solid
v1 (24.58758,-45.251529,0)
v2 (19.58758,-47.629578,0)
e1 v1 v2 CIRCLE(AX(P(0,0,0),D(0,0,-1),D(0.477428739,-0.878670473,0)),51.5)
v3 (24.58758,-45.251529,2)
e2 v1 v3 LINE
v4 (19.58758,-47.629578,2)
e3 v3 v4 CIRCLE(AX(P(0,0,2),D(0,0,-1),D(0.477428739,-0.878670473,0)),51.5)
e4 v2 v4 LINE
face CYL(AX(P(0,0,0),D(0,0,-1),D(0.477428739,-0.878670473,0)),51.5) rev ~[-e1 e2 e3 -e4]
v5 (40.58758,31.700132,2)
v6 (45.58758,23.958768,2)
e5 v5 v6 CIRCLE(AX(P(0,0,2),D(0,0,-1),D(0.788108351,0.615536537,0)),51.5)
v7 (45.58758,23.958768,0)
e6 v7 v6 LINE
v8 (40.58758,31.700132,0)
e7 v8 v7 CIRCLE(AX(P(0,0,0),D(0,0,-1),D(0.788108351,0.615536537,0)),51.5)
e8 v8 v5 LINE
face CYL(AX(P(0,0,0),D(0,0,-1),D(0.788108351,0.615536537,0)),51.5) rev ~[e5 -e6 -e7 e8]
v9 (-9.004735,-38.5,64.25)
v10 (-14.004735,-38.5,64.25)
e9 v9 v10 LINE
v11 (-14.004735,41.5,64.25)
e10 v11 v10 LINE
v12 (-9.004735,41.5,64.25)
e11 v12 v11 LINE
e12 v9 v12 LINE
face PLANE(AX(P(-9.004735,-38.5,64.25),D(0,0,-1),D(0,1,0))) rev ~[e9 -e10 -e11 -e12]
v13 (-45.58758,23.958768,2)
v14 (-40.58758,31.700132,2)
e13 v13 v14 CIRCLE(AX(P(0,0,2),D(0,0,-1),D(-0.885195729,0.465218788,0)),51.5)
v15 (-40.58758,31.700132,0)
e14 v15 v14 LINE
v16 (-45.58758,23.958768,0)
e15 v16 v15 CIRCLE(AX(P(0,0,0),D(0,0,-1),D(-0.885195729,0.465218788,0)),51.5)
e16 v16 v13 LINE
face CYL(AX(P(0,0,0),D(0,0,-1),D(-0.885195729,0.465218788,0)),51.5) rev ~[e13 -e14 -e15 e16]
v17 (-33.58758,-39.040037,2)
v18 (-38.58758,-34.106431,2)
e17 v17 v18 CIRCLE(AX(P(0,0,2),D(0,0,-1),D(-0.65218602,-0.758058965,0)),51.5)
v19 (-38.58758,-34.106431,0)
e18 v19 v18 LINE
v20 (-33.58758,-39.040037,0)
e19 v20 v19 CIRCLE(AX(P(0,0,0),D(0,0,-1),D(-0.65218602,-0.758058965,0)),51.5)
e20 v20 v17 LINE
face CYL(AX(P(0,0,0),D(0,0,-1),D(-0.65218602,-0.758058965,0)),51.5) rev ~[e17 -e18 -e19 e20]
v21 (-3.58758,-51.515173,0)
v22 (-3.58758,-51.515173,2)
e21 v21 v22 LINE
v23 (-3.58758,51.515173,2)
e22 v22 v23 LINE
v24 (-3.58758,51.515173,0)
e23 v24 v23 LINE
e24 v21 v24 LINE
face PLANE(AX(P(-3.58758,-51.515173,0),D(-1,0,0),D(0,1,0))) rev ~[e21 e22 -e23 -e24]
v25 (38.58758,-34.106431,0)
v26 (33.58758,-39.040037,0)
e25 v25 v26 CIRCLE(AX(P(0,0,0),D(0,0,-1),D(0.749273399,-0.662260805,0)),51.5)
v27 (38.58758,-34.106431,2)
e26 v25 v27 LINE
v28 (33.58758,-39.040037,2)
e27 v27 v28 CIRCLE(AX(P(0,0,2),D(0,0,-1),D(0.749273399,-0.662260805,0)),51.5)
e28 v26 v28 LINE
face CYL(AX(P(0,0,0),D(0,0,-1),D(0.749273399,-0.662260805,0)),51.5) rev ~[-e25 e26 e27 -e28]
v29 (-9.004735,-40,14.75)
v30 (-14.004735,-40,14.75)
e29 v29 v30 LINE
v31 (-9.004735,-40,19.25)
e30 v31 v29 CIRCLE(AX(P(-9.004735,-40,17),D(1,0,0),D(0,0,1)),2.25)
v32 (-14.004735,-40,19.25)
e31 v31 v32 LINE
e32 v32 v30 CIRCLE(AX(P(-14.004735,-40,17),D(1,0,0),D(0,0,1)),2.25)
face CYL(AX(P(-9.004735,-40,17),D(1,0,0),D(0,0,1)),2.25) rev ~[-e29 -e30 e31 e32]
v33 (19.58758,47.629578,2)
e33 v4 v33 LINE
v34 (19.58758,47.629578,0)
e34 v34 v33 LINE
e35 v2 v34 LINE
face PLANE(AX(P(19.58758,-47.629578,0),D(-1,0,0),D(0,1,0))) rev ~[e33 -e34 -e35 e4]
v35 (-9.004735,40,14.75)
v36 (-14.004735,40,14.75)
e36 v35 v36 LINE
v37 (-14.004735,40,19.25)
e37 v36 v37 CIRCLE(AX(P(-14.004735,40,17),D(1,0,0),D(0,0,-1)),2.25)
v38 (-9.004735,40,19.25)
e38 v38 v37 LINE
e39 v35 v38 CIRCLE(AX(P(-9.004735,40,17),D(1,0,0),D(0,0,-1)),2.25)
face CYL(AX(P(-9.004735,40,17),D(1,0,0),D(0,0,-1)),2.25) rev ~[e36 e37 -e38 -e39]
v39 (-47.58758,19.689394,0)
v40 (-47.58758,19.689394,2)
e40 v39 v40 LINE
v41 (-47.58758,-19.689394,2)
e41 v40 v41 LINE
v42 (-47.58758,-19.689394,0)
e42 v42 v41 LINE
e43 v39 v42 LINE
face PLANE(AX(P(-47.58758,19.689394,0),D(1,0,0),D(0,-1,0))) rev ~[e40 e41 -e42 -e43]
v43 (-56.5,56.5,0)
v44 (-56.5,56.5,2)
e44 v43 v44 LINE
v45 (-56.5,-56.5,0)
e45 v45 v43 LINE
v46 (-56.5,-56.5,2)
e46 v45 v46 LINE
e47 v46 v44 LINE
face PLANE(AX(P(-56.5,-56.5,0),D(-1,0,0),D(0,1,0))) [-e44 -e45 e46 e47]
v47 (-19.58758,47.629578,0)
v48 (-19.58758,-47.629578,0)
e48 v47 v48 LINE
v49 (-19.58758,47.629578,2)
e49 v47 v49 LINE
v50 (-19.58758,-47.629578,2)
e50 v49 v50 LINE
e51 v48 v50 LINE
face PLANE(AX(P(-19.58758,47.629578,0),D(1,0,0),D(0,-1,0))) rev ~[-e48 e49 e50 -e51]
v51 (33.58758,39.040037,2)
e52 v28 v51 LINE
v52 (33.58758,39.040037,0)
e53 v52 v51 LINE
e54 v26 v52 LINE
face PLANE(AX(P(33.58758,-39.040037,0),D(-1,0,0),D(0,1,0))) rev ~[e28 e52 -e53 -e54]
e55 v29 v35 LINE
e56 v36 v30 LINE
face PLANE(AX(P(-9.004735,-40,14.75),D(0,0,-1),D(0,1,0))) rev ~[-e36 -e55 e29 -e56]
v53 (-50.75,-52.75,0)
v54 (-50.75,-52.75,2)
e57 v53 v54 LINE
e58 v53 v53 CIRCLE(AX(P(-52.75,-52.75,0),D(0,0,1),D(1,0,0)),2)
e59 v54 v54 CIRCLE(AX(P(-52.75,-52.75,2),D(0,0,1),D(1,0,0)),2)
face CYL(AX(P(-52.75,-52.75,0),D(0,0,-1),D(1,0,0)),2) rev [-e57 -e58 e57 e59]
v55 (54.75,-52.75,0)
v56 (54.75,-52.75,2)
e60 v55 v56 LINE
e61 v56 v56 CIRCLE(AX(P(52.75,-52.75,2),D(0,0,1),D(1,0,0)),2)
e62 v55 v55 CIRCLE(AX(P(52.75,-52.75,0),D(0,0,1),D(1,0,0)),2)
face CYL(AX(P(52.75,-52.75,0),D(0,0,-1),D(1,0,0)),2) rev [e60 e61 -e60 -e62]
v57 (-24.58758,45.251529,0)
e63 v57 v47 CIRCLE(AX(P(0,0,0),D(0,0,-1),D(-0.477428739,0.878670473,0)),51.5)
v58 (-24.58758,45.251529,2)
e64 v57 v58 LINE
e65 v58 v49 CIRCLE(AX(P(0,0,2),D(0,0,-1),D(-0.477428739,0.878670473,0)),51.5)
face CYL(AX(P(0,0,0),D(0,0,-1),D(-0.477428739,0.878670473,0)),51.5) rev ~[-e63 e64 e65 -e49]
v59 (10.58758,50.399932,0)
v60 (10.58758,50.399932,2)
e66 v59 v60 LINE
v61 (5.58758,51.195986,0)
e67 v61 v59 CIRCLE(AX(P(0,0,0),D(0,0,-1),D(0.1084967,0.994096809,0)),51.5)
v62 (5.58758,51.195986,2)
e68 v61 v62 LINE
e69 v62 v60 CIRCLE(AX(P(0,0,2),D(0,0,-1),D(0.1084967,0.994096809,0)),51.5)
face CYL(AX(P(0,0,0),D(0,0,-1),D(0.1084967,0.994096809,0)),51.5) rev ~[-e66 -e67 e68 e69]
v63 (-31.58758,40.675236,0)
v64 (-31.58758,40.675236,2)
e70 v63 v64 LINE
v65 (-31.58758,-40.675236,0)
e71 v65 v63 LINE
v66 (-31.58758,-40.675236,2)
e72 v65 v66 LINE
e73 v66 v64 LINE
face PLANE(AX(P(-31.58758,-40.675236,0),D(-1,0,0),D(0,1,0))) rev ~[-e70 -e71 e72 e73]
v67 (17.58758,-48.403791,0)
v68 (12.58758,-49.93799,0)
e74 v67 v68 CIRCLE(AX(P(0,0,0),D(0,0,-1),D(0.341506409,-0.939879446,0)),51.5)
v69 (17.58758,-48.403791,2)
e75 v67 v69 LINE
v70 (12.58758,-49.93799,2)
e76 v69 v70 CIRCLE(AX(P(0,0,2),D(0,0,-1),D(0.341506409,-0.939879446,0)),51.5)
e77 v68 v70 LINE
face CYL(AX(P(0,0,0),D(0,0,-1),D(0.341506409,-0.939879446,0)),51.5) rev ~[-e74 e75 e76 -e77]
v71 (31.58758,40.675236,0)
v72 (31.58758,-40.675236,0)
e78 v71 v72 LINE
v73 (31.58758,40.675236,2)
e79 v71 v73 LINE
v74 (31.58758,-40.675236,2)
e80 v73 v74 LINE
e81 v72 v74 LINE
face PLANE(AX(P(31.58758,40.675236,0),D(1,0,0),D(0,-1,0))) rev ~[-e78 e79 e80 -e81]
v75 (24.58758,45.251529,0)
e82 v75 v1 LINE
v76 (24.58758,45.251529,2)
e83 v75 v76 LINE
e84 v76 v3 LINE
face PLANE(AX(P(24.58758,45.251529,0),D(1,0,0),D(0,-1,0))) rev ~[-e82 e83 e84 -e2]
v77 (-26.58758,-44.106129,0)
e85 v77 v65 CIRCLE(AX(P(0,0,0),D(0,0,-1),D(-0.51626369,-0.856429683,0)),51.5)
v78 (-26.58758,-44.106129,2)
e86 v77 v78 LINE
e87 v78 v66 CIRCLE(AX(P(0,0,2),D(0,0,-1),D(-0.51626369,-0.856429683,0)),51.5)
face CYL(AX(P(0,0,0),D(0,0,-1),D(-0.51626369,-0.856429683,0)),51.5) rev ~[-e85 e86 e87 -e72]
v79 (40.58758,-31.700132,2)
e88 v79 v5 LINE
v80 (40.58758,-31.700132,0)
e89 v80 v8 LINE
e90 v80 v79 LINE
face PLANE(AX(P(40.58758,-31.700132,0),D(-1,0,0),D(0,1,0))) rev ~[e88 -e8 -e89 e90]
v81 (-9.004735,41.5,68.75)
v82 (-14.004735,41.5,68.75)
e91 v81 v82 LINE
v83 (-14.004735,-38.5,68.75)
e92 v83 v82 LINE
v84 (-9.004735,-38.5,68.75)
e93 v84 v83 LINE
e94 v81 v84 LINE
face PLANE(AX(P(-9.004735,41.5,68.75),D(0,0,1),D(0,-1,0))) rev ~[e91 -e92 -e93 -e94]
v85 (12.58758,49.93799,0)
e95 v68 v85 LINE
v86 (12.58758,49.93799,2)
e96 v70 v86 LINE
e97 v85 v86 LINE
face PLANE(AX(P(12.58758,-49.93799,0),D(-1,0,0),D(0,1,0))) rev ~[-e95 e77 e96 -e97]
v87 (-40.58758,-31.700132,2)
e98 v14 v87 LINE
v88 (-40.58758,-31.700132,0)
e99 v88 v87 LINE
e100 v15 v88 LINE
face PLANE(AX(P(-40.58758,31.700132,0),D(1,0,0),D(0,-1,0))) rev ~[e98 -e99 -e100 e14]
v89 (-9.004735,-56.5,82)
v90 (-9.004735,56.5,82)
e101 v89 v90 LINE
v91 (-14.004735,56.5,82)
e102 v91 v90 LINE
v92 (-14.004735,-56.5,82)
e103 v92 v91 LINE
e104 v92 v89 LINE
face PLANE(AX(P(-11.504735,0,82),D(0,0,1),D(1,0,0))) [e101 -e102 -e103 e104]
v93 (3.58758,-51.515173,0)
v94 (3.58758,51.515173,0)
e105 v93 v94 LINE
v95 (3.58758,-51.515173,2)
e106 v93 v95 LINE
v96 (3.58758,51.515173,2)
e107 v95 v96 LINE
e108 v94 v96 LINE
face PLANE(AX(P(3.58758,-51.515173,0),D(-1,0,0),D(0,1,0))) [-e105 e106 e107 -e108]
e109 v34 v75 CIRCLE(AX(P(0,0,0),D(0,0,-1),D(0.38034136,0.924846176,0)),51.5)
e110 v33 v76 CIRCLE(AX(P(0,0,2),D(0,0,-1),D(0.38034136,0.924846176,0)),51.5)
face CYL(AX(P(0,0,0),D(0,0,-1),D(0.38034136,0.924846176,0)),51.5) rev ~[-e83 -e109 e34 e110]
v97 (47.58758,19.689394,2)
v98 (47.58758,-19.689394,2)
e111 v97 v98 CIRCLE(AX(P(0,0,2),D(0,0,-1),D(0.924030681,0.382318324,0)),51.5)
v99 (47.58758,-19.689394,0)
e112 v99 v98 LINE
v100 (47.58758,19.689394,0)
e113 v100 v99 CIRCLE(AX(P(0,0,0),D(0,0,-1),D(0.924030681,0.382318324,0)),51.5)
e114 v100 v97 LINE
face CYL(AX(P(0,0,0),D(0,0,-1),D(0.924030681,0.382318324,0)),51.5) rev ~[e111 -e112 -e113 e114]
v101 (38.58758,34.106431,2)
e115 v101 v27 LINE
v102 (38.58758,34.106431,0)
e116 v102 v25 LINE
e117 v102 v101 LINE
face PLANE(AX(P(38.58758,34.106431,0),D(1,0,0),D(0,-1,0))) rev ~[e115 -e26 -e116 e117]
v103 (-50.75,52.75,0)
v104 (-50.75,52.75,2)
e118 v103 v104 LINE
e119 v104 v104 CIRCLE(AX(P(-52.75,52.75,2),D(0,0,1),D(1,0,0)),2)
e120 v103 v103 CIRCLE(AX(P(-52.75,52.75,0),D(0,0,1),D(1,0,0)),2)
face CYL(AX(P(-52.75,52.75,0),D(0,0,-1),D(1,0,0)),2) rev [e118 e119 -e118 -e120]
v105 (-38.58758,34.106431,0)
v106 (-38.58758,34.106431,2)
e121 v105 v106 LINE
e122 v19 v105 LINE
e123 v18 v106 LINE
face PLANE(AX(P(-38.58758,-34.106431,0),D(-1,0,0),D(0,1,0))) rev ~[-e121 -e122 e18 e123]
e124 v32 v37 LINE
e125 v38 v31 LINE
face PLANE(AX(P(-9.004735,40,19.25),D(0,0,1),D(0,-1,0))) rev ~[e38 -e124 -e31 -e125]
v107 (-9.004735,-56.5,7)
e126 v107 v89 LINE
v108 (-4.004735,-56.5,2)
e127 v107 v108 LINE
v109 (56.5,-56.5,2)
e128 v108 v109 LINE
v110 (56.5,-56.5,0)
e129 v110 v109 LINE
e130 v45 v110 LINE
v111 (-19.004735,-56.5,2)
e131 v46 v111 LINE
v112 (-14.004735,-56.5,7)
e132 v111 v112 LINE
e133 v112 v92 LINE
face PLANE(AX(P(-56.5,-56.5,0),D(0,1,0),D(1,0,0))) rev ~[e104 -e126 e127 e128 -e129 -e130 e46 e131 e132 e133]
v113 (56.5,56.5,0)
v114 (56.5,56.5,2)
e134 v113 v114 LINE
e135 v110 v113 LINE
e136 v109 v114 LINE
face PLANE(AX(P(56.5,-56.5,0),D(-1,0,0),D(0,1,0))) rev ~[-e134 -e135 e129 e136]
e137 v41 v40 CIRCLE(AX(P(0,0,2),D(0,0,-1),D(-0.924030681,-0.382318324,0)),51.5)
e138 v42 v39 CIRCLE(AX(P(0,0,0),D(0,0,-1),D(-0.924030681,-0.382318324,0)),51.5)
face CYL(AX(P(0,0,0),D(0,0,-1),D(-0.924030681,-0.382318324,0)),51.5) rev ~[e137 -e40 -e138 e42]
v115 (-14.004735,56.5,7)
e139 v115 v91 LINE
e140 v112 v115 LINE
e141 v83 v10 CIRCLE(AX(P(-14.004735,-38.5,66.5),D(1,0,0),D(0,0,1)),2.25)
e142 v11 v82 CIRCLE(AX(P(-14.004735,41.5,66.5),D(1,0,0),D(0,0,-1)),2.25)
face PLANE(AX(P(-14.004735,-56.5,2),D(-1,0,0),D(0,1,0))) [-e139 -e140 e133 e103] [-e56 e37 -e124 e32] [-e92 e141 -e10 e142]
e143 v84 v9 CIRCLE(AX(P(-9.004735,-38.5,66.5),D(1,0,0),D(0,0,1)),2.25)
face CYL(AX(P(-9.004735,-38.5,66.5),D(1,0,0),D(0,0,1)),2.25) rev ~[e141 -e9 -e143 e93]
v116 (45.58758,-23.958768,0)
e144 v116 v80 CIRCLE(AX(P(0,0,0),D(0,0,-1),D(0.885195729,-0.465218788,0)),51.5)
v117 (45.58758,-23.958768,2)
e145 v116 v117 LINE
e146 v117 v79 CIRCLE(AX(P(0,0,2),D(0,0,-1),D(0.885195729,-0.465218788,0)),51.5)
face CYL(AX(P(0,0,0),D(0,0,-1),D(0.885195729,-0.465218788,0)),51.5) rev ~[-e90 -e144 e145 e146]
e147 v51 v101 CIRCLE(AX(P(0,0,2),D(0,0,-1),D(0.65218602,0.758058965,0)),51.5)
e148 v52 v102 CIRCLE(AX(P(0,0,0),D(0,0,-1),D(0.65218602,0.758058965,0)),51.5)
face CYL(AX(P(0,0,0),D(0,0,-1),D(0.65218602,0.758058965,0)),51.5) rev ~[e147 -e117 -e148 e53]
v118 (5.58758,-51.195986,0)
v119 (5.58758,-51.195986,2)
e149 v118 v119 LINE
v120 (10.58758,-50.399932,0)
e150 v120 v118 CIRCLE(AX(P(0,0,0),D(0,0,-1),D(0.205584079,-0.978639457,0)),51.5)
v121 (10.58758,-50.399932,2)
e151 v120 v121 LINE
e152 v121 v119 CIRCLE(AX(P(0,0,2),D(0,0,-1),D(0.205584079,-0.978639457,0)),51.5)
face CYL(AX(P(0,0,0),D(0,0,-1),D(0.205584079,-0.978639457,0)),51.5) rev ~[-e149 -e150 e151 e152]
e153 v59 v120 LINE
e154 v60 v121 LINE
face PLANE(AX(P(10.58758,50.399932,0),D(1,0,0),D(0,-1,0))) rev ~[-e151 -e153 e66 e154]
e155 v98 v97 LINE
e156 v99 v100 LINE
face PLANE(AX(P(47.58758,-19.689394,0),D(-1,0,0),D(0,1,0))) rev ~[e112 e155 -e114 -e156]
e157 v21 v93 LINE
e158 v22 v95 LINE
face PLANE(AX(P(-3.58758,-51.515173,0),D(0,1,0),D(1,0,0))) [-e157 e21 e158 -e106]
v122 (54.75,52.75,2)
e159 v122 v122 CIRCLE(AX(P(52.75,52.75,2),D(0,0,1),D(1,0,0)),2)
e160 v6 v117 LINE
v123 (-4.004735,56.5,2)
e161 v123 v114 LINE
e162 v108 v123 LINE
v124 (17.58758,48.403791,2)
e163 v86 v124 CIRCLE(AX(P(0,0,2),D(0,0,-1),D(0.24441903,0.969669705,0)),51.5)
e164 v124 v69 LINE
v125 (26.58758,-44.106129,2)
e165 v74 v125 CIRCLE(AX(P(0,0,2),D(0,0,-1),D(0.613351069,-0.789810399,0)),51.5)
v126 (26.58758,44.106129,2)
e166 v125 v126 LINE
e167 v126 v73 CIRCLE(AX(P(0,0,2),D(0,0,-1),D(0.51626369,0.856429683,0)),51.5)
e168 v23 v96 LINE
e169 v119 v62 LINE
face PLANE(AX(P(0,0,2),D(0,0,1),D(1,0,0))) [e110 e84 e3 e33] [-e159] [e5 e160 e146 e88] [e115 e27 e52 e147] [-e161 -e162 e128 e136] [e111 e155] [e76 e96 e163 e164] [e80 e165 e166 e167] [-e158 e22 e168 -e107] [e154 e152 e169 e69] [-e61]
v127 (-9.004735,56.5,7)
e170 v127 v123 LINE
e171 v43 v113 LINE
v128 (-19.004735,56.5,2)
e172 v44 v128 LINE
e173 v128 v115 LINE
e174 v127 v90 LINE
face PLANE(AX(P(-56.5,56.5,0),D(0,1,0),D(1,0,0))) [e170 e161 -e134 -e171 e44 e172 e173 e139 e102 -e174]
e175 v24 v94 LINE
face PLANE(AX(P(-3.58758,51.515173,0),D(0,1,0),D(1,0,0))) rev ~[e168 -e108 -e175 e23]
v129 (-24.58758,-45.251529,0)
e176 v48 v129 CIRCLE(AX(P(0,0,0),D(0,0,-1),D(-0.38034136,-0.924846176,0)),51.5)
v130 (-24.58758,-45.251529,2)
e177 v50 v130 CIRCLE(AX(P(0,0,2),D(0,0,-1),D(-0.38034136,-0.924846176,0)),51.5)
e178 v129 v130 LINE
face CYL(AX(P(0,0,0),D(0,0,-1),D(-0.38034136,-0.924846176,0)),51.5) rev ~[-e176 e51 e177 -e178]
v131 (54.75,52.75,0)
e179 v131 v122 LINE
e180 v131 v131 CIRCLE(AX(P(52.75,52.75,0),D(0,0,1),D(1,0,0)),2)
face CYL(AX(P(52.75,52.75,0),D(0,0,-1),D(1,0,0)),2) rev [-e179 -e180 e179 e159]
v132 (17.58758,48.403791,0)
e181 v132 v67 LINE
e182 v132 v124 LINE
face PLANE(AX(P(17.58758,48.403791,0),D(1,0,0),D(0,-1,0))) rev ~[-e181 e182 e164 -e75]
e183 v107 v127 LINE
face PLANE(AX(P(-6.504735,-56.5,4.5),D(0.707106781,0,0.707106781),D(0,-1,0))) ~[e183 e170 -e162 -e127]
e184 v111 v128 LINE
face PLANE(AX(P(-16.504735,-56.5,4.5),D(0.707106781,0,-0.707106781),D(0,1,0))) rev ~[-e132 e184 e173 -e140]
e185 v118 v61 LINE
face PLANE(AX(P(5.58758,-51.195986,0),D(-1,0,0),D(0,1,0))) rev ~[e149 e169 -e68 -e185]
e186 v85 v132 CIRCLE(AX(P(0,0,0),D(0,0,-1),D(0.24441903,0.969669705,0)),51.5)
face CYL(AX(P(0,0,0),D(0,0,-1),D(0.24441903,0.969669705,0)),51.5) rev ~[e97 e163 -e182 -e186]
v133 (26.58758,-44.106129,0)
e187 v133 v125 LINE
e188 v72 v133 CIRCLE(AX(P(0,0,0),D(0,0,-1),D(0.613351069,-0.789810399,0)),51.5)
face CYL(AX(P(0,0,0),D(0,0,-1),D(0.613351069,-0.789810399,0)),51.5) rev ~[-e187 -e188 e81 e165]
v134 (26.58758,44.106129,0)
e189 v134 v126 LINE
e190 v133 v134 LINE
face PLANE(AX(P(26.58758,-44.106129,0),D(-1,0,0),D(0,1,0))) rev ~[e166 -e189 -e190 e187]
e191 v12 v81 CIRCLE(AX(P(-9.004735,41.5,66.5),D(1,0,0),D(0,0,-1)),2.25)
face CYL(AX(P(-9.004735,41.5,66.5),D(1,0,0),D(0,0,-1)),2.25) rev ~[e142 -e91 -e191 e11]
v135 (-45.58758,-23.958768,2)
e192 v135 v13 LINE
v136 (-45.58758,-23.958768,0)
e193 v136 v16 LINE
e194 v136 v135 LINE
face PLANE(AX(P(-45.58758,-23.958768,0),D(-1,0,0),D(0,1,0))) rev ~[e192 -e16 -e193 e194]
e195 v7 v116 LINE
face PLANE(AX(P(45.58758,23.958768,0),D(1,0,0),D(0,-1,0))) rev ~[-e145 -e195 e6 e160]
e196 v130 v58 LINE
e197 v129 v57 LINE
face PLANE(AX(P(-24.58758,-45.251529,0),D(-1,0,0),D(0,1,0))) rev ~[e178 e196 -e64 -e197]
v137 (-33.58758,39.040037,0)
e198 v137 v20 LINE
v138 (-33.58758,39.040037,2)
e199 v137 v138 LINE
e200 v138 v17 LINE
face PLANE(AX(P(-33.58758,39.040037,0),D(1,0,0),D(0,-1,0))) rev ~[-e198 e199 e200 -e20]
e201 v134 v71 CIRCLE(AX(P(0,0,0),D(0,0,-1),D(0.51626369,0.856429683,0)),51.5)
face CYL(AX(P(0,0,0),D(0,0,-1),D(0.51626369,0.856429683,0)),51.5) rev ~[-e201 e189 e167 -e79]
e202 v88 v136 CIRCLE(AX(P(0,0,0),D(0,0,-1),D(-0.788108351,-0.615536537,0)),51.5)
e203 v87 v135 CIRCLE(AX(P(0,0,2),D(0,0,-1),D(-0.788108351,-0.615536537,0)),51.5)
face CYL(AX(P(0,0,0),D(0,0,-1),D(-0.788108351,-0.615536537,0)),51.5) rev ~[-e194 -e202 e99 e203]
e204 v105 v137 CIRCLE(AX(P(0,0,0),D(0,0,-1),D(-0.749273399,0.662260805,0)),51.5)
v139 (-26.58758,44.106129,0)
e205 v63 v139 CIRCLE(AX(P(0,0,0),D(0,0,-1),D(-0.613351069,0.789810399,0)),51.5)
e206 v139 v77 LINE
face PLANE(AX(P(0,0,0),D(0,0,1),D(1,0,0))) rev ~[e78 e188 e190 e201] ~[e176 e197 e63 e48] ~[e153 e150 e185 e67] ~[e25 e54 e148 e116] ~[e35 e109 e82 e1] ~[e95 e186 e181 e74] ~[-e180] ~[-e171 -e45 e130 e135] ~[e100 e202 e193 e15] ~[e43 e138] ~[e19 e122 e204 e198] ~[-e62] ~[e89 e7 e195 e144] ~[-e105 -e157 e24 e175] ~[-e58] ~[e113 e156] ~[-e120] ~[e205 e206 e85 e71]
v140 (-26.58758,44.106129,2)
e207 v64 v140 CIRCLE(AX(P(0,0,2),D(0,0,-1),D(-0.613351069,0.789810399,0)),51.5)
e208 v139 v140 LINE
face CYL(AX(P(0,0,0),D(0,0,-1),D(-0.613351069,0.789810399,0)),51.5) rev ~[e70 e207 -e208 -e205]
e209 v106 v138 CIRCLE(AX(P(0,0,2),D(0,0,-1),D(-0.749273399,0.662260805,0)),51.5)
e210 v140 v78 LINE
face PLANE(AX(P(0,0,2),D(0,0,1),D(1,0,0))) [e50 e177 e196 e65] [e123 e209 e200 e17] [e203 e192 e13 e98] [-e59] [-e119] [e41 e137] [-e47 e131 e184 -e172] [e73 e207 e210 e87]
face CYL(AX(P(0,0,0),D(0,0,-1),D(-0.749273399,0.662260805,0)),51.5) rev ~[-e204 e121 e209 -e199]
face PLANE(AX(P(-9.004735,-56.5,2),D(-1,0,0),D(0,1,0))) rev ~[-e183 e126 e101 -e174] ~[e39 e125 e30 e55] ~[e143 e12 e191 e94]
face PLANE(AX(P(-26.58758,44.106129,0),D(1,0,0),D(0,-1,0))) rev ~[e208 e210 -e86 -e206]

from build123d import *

# Parameters (mm, degrees)
F0_W     = 113
F0_H     = 113
F0_R     = 2
F0_W_2   = 7.1751601063
F0_H_2   = 103.030346334
F1_DEPTH = 2
F2_W     = 5
F2_H     = 113
F3_DEPTH = 80
F5_DEPTH = 25
F6_SIZE  = 5


with BuildPart() as f1:
    # F0 (on Top) → F1 (new body)
    with BuildSketch(Plane.XY):
        Rectangle(F0_W, F0_H)
        with Locations((-52.75, -52.75)):
            Circle(F0_R, mode=Mode.SUBTRACT)
        with BuildLine():
            ThreePointArc((-47.5875800531, -19.6893937105), (-51.5, 0), (-47.5875800531, 19.6893937105))
            Line((-47.5875800531, 19.6893937105), (-47.5875800531, -19.6893937105))
        make_face(mode=Mode.SUBTRACT)
        with Locations((52.75, -52.75)):
            Circle(F0_R, mode=Mode.SUBTRACT)
        with BuildLine():
            Line((45.5875800531, 23.9587675998), (45.5875800531, -23.9587675998))
            ThreePointArc((45.5875800531, -23.9587675998), (43.2610879903, -27.9415150967), (40.5875800531, -31.7001316311))
            Line((40.5875800531, -31.7001316311), (40.5875800531, 31.7001316311))
            ThreePointArc((40.5875800531, 31.7001316311), (43.2610879903, 27.9415150967), (45.5875800531, 23.9587675998))
        make_face(mode=Mode.SUBTRACT)
        with BuildLine():
            Line((-45.5875800531, -23.9587675998), (-45.5875800531, 23.9587675998))
            ThreePointArc((-45.5875800531, 23.9587675998), (-43.2610879903, 27.9415150967), (-40.5875800531, 31.7001316311))
            Line((-40.5875800531, 31.7001316311), (-40.5875800531, -31.7001316311))
            ThreePointArc((-40.5875800531, -31.7001316311), (-43.2610879903, -27.9415150967), (-45.5875800531, -23.9587675998))
        make_face(mode=Mode.SUBTRACT)
        with BuildLine():
            Line((-38.5875800531, -34.106431441), (-38.5875800531, 34.106431441))
            ThreePointArc((-38.5875800531, 34.106431441), (-36.1717921774, 36.6585794962), (-33.5875800531, 39.0400367082))
            Line((-33.5875800531, 39.0400367082), (-33.5875800531, -39.0400367082))
            ThreePointArc((-33.5875800531, -39.0400367082), (-36.1717921774, -36.6585794962), (-38.5875800531, -34.106431441))
        make_face(mode=Mode.SUBTRACT)
        with BuildLine():
            Line((-31.5875800531, -40.6752355419), (-31.5875800531, 40.6752355419))
            ThreePointArc((-31.5875800531, 40.6752355419), (-29.1381205687, 42.4643371516), (-26.5875800531, 44.1061286775))
            Line((-26.5875800531, 44.1061286775), (-26.5875800531, -44.1061286775))
            ThreePointArc((-26.5875800531, -44.1061286775), (-29.1381205687, -42.4643371516), (-31.5875800531, -40.6752355419))
        make_face(mode=Mode.SUBTRACT)
        with BuildLine():
            Line((-24.5875800531, -45.2515293347), (-24.5875800531, 45.2515293347))
            ThreePointArc((-24.5875800531, 45.2515293347), (-22.1195608355, 46.5077953513), (-19.5875800531, 47.6295780756))
            Line((-19.5875800531, 47.6295780756), (-19.5875800531, -47.6295780756))
            ThreePointArc((-19.5875800531, -47.6295780756), (-22.1195608355, -46.5077953513), (-24.5875800531, -45.2515293347))
        make_face(mode=Mode.SUBTRACT)
        with Locations((-52.75, 52.75)):
            Circle(F0_R, mode=Mode.SUBTRACT)
        Rectangle(F0_W_2, F0_H_2, mode=Mode.SUBTRACT)
        with BuildLine():
            Line((5.5875800531, -51.1959856742), (5.5875800531, 51.1959856742))
            ThreePointArc((5.5875800531, 51.1959856742), (8.0973684903, 50.8594398665), (10.5875800531, 50.3999320299))
            Line((10.5875800531, 50.3999320299), (10.5875800531, -50.3999320299))
            ThreePointArc((10.5875800531, -50.3999320299), (8.0973684903, -50.8594398665), (5.5875800531, -51.1959856742))
        make_face(mode=Mode.SUBTRACT)
        with BuildLine():
            Line((17.5875800531, 48.4037914618), (17.5875800531, -48.4037914618))
            ThreePointArc((17.5875800531, -48.4037914618), (15.1070683132, -49.2344034896), (12.5875800531, -49.9379898314))
            Line((12.5875800531, -49.9379898314), (12.5875800531, 49.9379898314))
            ThreePointArc((12.5875800531, 49.9379898314), (15.1070683132, 49.2344034896), (17.5875800531, 48.4037914618))
        make_face(mode=Mode.SUBTRACT)
        with BuildLine():
            Line((24.5875800531, 45.2515293347), (24.5875800531, -45.2515293347))
            ThreePointArc((24.5875800531, -45.2515293347), (22.1195608355, -46.5077953513), (19.5875800531, -47.6295780756))
            Line((19.5875800531, -47.6295780756), (19.5875800531, 47.6295780756))
            ThreePointArc((19.5875800531, 47.6295780756), (22.1195608355, 46.5077953513), (24.5875800531, 45.2515293347))
        make_face(mode=Mode.SUBTRACT)
        with BuildLine():
            Line((26.5875800531, -44.1061286775), (26.5875800531, 44.1061286775))
            ThreePointArc((26.5875800531, 44.1061286775), (29.1381205687, 42.4643371516), (31.5875800531, 40.6752355419))
            Line((31.5875800531, 40.6752355419), (31.5875800531, -40.6752355419))
            ThreePointArc((31.5875800531, -40.6752355419), (29.1381205687, -42.4643371516), (26.5875800531, -44.1061286775))
        make_face(mode=Mode.SUBTRACT)
        with BuildLine():
            Line((33.5875800531, -39.0400367082), (33.5875800531, 39.0400367082))
            ThreePointArc((33.5875800531, 39.0400367082), (36.1717921774, 36.6585794962), (38.5875800531, 34.106431441))
            Line((38.5875800531, 34.106431441), (38.5875800531, -34.106431441))
            ThreePointArc((38.5875800531, -34.106431441), (36.1717921774, -36.6585794962), (33.5875800531, -39.0400367082))
        make_face(mode=Mode.SUBTRACT)
        with BuildLine():
            Line((47.5875800531, -19.6893937105), (47.5875800531, 19.6893937105))
            ThreePointArc((47.5875800531, 19.6893937105), (51.5, 0), (47.5875800531, -19.6893937105))
        make_face(mode=Mode.SUBTRACT)
        with Locations((52.75, 52.75)):
            Circle(F0_R, mode=Mode.SUBTRACT)
    extrude(amount=F1_DEPTH)

    # F2 (on face) → F3 (join)
    with BuildSketch(Plane.XY.offset(2)):
        with Locations((-11.5047348663, 0)):
            Rectangle(F2_W, F2_H)
    extrude(amount=F3_DEPTH)

    # F4 (on face) → F5 (cut)
    with BuildSketch(Plane.YZ.offset(-9.0047348663)):
        with BuildLine():
            Line((-35.5, 19.25), (-40, 19.25))
            ThreePointArc((-40, 19.25), (-42.25, 17), (-40, 14.75))
            Line((-40, 14.75), (-35.5, 14.75))
            Line((-35.5, 14.75), (35.5, 14.75))
            Line((35.5, 14.75), (40, 14.75))
            ThreePointArc((40, 14.75), (42.25, 17), (40, 19.25))
            Line((40, 19.25), (35.5, 19.25))
            Line((35.5, 19.25), (-35.5, 19.25))
        make_face()
        with BuildLine():
            Line((-34.5, 68.75), (-38.5, 68.75))
            ThreePointArc((-38.5, 68.75), (-40.75, 66.5), (-38.5, 64.25))
            Line((-38.5, 64.25), (-34.5, 64.25))
            Line((-34.5, 64.25), (34.5, 64.25))
            Line((34.5, 64.25), (41.5, 64.25))
            ThreePointArc((41.5, 64.25), (43.75, 66.5), (41.5, 68.75))
            Line((41.5, 68.75), (34.5, 68.75))
            Line((34.5, 68.75), (-34.5, 68.75))
        make_face()
    extrude(amount=-F5_DEPTH, mode=Mode.SUBTRACT)

    # F6
    f6_edges = [f1.edges().sort_by_distance(p)[0] for p in [
        (-9.004735, 0, 2),
        (-14.004735, 0, 2),
    ]]
    chamfer(f6_edges, length=F6_SIZE)


solid = f1.part
